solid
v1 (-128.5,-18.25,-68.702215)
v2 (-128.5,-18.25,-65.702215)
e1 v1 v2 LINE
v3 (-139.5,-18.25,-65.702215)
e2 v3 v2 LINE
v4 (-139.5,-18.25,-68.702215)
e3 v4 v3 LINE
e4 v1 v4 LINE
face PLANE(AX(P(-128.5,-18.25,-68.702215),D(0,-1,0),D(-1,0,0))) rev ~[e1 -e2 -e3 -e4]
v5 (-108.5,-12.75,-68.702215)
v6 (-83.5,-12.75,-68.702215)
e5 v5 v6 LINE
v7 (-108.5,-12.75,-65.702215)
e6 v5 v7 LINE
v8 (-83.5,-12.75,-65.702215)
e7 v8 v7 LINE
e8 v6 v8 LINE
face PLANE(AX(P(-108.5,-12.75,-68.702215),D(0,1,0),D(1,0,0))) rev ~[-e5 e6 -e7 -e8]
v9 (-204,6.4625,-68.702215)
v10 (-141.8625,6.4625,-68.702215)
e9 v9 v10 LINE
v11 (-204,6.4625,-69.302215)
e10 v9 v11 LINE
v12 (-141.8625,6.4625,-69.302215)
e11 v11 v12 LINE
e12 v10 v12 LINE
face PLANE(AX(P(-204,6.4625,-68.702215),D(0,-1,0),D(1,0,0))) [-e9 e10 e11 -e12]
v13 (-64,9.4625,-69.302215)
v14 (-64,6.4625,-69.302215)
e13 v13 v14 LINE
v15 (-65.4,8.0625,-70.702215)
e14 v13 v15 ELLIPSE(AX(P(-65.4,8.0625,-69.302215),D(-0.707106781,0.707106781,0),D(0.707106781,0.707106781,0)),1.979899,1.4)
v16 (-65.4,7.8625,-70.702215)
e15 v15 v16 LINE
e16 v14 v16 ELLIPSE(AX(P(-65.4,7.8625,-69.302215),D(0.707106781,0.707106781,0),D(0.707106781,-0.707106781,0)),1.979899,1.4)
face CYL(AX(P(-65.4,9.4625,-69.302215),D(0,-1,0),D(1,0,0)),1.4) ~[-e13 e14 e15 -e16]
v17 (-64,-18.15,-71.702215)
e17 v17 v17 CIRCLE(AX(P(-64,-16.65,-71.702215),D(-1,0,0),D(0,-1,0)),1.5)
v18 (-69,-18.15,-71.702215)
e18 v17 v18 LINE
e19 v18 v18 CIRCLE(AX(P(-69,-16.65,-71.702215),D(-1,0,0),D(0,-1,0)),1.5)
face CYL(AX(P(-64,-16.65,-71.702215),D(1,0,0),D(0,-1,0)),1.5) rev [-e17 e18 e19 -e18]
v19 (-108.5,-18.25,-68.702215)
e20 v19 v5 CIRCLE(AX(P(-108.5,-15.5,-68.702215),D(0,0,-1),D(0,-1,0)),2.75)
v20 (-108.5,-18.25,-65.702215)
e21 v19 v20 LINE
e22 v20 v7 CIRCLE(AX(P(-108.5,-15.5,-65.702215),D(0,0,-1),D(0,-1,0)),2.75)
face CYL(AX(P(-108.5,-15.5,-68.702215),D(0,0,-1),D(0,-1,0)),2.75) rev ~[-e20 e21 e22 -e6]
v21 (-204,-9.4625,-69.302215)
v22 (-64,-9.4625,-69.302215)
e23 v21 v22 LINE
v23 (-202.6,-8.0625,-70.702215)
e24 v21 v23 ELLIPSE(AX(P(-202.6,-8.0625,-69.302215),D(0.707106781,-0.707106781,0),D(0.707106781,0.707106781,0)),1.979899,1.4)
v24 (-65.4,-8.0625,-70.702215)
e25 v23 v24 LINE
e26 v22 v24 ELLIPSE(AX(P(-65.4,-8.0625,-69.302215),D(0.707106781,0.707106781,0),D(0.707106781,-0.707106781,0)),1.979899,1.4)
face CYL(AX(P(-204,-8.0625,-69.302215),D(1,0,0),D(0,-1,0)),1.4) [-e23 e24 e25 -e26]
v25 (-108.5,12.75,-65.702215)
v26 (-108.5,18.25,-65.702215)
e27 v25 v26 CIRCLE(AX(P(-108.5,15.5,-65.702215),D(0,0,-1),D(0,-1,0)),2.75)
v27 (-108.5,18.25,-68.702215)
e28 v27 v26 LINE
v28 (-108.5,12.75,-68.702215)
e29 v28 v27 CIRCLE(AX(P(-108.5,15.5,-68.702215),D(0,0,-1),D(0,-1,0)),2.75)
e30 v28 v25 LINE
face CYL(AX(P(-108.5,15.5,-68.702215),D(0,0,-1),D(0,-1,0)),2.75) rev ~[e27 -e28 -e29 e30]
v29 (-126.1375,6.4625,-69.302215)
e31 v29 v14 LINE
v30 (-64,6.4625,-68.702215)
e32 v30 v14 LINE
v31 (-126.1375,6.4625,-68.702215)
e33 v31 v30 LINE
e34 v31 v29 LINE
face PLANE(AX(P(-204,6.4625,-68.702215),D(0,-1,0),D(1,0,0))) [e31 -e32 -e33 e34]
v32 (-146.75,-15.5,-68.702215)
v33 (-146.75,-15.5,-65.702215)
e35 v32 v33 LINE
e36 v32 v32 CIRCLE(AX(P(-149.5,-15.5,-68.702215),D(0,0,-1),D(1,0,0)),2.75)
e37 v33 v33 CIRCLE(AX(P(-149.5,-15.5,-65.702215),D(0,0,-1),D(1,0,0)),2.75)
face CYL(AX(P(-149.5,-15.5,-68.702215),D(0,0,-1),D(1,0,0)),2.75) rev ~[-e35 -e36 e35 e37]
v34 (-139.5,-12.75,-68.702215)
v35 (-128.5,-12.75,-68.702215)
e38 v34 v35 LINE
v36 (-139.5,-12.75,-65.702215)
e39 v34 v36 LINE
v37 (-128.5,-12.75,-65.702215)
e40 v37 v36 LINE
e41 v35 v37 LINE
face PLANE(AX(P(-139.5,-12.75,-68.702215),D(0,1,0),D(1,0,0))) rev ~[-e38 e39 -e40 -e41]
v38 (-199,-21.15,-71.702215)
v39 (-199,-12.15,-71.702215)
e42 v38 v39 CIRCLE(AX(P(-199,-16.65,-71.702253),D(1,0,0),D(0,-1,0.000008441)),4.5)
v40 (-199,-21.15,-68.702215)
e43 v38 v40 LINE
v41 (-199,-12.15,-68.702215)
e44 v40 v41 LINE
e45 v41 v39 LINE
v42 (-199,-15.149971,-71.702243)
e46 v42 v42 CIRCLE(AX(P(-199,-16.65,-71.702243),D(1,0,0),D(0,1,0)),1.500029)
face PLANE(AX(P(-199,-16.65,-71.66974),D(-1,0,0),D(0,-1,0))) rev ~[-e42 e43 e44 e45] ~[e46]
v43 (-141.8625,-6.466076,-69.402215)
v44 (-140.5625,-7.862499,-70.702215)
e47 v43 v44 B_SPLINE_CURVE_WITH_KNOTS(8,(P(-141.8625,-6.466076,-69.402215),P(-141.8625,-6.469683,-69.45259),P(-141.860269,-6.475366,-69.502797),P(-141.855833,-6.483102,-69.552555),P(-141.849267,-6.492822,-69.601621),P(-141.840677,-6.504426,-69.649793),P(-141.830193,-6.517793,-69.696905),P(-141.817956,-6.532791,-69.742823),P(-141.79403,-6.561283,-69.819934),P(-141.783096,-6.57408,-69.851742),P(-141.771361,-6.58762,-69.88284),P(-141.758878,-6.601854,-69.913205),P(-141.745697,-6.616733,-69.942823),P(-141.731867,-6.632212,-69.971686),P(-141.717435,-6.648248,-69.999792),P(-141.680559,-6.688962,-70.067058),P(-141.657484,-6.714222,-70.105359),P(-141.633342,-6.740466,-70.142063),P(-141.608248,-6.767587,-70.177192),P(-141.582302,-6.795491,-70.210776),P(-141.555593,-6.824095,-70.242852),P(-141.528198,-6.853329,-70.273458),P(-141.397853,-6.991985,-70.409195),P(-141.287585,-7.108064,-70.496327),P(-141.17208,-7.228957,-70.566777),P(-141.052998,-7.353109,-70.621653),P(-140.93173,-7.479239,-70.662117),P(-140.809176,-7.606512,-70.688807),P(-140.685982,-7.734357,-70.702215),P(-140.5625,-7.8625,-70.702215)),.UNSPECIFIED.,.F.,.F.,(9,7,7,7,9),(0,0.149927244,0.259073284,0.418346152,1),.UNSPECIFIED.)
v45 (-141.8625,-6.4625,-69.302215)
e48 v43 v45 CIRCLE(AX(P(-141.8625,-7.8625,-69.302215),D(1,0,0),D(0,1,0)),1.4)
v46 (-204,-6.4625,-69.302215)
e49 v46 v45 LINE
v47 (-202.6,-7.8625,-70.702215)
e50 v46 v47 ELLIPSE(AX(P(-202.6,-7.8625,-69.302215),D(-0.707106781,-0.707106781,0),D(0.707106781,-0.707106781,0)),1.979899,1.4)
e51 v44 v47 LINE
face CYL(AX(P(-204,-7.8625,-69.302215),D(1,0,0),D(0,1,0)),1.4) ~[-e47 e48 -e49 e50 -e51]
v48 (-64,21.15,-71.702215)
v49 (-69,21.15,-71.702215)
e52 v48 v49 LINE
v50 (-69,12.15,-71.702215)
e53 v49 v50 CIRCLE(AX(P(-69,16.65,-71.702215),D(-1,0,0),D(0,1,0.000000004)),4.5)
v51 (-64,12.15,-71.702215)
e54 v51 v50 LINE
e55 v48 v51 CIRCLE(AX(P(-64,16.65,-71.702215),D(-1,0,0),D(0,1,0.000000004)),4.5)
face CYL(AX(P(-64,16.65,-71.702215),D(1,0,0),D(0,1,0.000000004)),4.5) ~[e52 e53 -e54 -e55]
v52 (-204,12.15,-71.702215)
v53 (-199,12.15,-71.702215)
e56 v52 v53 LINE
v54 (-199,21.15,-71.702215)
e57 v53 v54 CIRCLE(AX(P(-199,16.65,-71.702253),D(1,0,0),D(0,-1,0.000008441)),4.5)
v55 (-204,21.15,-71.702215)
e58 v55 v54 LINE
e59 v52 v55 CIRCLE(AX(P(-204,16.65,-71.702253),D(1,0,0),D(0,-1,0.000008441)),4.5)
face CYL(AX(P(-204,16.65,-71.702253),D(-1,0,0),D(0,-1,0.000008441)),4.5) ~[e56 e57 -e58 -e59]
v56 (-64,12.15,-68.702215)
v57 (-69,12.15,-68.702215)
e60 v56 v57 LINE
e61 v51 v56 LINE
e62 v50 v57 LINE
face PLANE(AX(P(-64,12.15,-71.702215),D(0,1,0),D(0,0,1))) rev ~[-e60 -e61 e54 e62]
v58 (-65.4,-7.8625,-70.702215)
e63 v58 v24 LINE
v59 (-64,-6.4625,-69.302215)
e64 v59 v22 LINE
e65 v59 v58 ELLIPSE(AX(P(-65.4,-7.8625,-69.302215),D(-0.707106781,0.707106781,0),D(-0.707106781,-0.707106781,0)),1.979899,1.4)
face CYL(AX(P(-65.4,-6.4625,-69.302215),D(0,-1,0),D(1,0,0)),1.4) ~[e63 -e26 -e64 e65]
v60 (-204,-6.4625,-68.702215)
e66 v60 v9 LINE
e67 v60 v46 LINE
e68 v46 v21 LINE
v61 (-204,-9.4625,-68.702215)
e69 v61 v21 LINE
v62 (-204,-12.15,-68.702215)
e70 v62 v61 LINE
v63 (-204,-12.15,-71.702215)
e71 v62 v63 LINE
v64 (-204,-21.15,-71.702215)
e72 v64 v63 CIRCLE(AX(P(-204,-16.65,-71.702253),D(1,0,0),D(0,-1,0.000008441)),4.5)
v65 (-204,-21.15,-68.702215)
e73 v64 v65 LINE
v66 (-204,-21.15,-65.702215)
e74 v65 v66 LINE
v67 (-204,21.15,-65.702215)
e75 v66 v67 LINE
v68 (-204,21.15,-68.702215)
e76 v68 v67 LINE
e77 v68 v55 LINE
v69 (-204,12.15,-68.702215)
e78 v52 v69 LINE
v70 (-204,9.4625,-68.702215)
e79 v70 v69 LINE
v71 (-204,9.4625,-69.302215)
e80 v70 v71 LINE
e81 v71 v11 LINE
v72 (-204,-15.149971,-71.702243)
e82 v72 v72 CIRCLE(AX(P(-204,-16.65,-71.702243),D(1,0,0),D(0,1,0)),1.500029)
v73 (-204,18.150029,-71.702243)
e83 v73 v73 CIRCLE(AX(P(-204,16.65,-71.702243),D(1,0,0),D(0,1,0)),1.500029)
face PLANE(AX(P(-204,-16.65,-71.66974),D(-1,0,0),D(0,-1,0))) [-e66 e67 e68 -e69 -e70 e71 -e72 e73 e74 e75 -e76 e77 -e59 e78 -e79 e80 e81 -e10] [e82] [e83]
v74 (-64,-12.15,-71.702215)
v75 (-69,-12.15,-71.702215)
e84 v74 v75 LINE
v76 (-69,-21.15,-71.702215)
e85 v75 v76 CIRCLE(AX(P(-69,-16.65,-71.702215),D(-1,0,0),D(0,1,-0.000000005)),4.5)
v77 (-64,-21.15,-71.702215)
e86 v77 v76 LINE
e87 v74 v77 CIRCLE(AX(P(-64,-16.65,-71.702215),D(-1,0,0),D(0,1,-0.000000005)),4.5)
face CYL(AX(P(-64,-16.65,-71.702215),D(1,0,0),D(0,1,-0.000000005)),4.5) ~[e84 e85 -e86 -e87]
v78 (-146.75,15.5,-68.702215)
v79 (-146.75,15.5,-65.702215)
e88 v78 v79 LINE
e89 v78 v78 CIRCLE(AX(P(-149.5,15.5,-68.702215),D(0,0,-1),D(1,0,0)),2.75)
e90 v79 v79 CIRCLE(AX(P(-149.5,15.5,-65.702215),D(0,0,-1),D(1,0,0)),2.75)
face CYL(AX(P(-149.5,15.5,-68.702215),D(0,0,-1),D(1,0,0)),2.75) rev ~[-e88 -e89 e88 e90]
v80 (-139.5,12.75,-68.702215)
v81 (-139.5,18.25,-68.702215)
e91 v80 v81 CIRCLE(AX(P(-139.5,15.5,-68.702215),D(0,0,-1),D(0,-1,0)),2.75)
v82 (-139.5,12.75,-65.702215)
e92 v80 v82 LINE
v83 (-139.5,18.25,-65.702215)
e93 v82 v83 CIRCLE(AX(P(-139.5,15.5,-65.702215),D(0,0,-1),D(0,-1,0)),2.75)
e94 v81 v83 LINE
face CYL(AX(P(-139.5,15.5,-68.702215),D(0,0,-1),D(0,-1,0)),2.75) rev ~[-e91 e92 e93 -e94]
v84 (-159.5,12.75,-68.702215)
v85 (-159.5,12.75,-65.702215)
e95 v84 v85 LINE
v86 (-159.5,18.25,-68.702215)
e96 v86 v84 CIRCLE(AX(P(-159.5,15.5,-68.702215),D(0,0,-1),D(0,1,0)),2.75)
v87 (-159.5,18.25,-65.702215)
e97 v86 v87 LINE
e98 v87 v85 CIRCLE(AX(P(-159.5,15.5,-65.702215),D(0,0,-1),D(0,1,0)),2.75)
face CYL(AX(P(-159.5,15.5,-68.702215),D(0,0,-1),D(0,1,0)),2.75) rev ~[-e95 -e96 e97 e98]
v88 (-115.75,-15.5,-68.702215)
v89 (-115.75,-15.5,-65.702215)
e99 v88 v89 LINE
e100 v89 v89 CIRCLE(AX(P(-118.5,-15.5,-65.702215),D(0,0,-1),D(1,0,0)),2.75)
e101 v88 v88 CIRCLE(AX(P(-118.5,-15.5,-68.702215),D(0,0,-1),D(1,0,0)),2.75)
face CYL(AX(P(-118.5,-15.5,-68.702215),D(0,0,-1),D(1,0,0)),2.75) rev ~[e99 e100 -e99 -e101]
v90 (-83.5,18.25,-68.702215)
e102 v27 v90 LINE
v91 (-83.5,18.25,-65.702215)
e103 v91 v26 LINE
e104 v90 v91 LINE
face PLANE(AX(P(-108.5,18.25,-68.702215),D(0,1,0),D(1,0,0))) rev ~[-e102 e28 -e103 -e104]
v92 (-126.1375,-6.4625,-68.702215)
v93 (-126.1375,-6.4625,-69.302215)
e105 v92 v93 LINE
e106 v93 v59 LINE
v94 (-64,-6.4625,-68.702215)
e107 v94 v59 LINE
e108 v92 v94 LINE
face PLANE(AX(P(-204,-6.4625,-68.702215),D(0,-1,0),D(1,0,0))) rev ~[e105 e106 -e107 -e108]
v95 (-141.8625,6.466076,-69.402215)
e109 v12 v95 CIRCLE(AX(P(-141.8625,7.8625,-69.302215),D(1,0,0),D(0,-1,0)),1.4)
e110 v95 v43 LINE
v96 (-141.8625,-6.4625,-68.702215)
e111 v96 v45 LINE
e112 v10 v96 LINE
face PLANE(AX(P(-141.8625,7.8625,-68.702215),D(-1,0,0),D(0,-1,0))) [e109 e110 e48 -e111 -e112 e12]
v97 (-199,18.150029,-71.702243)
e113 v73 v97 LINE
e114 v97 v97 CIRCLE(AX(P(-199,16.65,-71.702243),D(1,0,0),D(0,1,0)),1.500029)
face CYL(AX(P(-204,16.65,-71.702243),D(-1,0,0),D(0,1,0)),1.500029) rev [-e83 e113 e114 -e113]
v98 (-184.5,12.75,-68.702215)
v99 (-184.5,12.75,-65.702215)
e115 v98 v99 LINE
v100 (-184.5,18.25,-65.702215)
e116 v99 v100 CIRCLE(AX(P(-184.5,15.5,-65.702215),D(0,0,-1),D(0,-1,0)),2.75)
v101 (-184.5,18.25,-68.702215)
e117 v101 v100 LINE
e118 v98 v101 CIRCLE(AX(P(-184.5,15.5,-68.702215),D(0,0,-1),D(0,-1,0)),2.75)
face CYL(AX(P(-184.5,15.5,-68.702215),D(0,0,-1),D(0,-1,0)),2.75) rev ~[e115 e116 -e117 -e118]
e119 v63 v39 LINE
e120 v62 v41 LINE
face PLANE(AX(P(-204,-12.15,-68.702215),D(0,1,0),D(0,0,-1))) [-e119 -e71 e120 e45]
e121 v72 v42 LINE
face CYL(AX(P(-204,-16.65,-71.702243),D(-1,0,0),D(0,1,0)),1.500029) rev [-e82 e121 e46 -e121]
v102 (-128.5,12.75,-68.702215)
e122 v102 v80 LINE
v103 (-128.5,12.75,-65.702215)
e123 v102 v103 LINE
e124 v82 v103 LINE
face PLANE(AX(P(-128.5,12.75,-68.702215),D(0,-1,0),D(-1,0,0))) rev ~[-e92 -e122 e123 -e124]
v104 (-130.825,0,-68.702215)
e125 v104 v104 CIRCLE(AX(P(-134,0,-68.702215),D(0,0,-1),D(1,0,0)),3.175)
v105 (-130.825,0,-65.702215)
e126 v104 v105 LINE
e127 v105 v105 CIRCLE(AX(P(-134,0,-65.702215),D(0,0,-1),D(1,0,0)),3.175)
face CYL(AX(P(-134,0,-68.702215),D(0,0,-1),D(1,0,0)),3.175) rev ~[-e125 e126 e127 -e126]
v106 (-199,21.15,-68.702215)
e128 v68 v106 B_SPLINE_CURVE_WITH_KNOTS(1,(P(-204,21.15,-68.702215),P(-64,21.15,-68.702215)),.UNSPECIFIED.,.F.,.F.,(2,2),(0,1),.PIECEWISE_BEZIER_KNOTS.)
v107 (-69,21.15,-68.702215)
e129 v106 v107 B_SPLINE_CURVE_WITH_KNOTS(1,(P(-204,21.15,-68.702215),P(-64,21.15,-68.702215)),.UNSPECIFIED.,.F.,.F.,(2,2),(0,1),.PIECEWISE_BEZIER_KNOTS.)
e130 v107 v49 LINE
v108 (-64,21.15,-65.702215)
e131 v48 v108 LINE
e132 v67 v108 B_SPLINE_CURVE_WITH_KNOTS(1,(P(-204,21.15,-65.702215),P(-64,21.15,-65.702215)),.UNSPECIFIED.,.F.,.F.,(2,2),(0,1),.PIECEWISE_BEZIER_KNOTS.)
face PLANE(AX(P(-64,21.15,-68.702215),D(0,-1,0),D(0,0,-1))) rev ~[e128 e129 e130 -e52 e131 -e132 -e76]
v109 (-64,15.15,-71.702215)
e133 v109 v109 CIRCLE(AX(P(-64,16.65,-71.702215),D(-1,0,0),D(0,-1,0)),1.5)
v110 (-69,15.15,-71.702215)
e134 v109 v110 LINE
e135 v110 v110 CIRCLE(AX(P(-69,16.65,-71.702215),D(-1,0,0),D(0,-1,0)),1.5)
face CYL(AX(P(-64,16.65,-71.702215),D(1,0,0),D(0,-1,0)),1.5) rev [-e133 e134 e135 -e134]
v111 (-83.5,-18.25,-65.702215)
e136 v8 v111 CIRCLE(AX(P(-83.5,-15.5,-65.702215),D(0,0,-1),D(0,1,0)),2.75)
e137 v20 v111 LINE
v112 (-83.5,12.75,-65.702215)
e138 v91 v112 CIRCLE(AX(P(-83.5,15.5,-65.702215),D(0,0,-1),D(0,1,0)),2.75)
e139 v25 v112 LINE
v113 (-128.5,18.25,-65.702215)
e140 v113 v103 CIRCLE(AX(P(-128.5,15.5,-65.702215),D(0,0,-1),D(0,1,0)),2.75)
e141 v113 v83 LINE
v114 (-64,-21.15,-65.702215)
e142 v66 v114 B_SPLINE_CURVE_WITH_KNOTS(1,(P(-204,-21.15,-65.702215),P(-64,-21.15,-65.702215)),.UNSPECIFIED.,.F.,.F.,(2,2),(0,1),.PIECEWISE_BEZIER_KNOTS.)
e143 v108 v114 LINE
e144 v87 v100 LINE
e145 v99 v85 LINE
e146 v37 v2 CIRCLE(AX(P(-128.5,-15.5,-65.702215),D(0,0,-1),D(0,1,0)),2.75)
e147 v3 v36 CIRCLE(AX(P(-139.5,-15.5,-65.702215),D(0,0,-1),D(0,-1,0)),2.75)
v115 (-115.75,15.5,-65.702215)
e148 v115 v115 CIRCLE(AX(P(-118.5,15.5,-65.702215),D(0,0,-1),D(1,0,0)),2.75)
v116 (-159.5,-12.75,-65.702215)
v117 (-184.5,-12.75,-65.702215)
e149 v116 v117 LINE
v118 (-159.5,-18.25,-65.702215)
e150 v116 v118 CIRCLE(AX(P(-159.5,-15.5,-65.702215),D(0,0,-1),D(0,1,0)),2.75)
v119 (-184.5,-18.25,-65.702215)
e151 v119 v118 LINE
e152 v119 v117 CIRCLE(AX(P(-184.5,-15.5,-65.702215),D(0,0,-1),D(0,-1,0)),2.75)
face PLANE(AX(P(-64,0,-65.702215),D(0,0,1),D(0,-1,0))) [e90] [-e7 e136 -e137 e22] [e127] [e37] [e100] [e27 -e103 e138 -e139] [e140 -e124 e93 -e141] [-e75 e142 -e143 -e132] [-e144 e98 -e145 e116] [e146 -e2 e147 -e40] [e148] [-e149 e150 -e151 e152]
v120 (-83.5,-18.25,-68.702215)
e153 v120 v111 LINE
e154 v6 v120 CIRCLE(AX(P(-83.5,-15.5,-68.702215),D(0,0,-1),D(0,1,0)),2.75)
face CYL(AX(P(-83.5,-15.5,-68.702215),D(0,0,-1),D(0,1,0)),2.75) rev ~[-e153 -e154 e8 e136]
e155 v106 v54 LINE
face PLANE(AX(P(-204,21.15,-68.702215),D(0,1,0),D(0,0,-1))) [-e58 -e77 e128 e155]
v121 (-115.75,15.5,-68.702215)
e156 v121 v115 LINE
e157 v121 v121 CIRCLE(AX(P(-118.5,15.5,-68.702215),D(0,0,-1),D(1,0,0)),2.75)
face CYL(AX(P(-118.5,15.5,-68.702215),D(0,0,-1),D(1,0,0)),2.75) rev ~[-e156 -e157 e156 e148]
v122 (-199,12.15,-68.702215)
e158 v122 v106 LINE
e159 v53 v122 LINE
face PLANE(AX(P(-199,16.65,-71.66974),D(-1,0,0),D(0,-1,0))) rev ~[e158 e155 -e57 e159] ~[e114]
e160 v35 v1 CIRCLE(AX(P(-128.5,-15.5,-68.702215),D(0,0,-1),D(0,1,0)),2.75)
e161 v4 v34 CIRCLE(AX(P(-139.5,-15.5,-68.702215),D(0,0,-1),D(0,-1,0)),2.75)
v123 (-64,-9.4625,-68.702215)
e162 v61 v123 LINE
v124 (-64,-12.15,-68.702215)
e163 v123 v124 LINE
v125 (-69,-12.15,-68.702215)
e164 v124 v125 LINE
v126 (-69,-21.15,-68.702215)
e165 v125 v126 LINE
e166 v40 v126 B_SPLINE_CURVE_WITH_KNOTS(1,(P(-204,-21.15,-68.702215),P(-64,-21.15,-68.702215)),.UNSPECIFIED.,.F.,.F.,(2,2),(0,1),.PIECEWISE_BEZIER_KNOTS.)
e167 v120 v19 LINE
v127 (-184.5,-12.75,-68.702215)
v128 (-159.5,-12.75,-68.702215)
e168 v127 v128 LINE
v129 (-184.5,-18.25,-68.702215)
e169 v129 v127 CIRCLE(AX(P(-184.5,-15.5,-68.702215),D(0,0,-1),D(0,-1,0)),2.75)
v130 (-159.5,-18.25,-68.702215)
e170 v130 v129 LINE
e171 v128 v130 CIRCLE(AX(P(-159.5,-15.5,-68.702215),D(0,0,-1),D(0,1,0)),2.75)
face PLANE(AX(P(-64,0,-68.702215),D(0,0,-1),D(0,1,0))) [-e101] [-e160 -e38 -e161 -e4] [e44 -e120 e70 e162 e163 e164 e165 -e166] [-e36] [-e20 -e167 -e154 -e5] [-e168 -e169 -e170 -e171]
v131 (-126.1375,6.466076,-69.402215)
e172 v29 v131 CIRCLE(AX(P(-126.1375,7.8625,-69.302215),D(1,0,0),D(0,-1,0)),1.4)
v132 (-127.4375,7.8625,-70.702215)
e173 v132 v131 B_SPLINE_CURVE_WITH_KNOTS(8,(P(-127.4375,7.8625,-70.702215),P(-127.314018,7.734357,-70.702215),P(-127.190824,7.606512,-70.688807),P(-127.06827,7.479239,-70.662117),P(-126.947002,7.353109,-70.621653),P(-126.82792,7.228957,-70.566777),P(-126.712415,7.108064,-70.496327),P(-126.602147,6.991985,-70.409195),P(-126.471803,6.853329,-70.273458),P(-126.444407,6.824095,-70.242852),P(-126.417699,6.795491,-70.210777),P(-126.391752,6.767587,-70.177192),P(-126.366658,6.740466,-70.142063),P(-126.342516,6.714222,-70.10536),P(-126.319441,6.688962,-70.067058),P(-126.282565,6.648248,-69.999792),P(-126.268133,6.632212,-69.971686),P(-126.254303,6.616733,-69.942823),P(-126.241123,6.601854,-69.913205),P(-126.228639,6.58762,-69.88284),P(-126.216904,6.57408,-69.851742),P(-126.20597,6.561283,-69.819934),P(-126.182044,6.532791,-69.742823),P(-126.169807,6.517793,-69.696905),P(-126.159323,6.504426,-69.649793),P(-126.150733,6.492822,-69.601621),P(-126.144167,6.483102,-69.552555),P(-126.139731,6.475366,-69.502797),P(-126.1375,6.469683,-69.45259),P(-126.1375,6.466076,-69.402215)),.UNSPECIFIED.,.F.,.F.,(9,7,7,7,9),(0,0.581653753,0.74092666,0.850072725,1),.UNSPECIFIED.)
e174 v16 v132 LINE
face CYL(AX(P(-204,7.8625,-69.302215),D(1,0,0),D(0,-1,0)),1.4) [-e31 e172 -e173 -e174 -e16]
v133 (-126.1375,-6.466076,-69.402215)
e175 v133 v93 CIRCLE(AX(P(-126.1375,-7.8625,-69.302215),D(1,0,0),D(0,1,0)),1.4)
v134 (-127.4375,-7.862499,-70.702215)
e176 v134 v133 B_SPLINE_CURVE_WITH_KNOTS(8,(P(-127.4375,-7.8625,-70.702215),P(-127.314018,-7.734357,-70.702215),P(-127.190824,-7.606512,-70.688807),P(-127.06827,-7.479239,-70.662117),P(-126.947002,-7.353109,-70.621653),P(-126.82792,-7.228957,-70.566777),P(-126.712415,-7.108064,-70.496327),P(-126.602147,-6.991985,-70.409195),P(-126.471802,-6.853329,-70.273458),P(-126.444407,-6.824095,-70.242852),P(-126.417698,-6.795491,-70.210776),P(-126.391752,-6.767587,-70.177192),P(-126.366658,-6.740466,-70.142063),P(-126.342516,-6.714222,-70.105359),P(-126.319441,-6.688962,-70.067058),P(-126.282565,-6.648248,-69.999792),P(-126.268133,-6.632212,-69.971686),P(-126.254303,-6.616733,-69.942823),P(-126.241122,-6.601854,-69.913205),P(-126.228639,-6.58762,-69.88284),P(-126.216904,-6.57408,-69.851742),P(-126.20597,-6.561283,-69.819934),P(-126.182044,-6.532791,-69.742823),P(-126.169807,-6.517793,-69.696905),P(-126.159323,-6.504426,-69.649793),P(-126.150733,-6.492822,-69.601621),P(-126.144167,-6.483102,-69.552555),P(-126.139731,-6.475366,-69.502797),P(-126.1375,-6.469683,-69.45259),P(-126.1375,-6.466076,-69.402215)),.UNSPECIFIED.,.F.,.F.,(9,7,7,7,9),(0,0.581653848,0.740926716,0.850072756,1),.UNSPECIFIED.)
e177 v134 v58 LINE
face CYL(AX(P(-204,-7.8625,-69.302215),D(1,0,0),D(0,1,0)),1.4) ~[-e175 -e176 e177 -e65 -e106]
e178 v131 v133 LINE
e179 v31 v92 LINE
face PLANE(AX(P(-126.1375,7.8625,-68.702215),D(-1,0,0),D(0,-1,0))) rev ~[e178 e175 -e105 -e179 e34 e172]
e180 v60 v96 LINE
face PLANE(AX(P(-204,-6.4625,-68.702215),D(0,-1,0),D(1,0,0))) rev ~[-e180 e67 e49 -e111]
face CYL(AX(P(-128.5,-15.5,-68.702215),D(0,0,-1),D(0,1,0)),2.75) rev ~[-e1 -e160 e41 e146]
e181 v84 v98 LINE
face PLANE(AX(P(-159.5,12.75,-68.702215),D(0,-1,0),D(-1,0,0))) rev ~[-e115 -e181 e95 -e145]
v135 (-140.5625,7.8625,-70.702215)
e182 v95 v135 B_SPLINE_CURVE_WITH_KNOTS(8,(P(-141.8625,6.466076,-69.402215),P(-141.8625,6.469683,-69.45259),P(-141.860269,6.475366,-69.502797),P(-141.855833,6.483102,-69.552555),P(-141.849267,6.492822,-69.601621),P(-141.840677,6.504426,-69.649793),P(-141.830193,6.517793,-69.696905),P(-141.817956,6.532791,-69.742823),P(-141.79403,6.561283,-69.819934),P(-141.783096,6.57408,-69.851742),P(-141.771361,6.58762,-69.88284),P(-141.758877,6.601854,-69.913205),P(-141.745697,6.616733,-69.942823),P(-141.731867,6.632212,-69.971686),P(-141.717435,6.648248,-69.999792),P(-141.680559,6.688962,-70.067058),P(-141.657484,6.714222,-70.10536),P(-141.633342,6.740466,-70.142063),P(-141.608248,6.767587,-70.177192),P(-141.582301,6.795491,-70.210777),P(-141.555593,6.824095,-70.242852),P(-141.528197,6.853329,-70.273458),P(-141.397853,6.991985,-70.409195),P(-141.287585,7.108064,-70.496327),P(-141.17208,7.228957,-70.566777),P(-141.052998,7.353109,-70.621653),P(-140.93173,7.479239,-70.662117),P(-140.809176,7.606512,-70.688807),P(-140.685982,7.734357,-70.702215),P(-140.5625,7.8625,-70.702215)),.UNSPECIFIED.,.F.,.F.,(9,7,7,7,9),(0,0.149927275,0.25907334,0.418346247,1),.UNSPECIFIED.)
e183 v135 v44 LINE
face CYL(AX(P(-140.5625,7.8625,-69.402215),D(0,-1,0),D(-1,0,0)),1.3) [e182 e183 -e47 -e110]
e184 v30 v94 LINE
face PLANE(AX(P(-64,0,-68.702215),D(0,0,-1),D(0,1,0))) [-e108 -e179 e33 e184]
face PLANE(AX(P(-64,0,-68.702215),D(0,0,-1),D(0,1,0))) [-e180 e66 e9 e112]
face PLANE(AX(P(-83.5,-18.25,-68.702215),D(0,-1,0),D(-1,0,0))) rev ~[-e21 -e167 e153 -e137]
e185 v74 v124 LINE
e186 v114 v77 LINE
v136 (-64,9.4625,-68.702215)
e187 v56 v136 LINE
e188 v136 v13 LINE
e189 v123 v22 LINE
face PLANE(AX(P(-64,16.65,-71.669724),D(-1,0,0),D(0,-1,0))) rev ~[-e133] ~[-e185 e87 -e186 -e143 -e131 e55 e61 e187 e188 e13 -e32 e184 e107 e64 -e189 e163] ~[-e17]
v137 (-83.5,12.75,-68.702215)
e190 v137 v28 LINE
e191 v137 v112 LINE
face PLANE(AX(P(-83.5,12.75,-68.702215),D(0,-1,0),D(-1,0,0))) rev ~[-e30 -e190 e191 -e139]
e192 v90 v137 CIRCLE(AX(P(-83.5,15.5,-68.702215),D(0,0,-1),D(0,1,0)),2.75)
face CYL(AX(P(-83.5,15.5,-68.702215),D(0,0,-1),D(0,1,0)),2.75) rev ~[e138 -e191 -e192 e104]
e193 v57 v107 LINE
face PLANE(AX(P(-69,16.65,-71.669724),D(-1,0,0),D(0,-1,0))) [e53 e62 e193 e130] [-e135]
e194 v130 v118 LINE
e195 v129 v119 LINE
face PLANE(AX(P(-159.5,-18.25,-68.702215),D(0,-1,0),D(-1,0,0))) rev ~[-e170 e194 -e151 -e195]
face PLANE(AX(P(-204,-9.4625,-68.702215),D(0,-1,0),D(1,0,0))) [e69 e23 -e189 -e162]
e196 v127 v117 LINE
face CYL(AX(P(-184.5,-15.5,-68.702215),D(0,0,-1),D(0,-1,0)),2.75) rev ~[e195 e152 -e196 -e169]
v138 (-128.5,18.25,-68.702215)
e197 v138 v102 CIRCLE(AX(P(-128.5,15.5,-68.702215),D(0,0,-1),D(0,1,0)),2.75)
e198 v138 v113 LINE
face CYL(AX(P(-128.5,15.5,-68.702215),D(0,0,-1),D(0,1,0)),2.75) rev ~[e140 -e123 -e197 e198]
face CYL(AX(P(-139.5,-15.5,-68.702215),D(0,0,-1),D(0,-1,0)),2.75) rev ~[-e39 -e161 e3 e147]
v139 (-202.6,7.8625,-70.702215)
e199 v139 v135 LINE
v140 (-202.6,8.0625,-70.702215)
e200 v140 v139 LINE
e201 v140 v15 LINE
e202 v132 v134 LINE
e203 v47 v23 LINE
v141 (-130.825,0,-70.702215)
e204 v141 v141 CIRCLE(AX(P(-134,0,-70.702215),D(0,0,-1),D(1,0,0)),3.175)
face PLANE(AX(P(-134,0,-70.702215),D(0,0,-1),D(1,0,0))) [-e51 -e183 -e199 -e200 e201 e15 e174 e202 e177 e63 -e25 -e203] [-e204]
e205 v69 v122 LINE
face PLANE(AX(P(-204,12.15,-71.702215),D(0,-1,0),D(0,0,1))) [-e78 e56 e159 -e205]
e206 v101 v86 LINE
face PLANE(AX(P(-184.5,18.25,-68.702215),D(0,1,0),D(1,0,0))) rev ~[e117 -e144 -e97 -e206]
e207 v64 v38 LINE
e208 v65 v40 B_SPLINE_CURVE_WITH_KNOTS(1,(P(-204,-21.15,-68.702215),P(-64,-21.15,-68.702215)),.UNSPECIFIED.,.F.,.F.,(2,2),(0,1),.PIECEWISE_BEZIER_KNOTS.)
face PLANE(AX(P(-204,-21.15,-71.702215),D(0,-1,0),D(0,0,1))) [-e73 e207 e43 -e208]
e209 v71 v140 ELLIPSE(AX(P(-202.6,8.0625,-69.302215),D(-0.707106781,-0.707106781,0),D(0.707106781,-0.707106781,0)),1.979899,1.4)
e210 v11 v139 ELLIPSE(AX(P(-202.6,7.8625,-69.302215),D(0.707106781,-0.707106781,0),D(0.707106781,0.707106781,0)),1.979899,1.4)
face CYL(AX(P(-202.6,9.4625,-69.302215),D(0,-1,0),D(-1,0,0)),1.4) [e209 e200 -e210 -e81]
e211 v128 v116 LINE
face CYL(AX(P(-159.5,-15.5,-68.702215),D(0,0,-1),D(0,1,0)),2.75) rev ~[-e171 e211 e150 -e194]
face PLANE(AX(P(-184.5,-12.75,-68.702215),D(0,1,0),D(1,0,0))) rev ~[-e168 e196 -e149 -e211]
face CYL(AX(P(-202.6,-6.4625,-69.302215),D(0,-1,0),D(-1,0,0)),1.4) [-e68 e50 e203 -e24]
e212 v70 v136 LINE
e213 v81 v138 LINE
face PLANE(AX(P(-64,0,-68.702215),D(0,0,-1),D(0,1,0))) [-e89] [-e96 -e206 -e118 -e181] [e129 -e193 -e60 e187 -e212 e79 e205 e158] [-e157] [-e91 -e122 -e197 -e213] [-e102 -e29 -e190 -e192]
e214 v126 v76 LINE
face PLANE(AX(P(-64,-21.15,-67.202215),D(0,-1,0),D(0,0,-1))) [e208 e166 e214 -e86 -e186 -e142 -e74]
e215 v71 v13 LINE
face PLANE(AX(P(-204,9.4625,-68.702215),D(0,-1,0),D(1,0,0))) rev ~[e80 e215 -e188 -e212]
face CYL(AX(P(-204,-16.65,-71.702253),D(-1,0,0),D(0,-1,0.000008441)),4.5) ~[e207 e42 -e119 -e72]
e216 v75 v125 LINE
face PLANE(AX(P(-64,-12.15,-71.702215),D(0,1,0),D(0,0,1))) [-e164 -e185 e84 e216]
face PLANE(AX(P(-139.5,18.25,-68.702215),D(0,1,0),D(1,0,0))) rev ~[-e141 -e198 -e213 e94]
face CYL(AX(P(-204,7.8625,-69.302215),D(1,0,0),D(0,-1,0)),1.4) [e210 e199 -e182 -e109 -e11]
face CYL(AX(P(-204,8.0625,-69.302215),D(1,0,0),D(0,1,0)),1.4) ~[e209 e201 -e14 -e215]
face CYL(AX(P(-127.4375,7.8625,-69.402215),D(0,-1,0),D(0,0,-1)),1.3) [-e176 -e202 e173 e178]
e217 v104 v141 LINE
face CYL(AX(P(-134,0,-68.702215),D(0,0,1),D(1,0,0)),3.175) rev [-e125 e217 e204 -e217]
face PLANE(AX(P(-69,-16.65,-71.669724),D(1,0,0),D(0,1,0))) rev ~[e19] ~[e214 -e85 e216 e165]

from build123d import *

# Parameters (mm, degrees)
SKETCH074_W     = 42.3
SKETCH074_H     = 3
SKETCH075_W     = 42.3
SKETCH075_H     = 3
SKETCH076_R     = 1.5
PAD030_DEPTH    = 5
SKETCH033_R     = 1.5000289281
SKETCH033_R_2   = 1.500028928
PAD031_DEPTH    = 5
SKETCH078_R     = 2.75
SKETCH078_R_2   = 3.175
POCKET020_DEPTH = 5
SKETCH084_W     = 140
SKETCH084_H     = 3.0000000001
SKETCH084_H_2   = 3
PAD034_DEPTH    = 2
FILLET005_R     = 1.4
SKETCH088_W     = 15.725
SKETCH088_H     = 15.725
SKETCH088_R     = 3.175
PAD036_DEPTH    = 2
FILLET006_R     = 1.3


with BuildPart() as part:
    # Sketch074 (on Face1 of Binder022) → AdditiveLoft005 section 0
    with BuildSketch(Plane.YZ.offset(-204)):
        with Locations((0, -67.2022145348)):
            Rectangle(SKETCH074_W, SKETCH074_H)
    # Sketch075 (on Face1 of Binder023) → AdditiveLoft005 section 1
    with BuildSketch(Plane(origin=(-64, 0, 0), x_dir=(0, -1, 0), z_dir=(-1, 0, 0))):
        with Locations((0, -67.2022145348)):
            Rectangle(SKETCH075_W, SKETCH075_H)
    loft()

    # Sketch076 (on Face1 of Binder023) → Pad030 (new body)
    with BuildSketch(Plane(origin=(-64, 0, 0), x_dir=(0, -1, 0), z_dir=(-1, 0, 0))):
        with BuildLine():
            Line((-12.15, -71.7022145347), (-12.15, -68.7022145348))
            Line((-12.15, -68.7022145348), (-21.15, -68.7022145348))
            Line((-21.15, -68.7022145348), (-21.15, -71.7022145347))
            ThreePointArc((-21.15, -71.7022145347), (-16.65, -76.2022145528), (-12.15, -71.7022145347))
        make_face()
        with Locations((-16.65, -71.7022145528)):
            Circle(SKETCH076_R, mode=Mode.SUBTRACT)
        with BuildLine():
            Line((12.15, -71.7022145347), (12.15, -68.7022145348))
            Line((12.15, -68.7022145348), (21.15, -68.7022145348))
            Line((21.15, -68.7022145348), (21.15, -71.7022145347))
            ThreePointArc((12.15, -71.7022145347), (16.65, -76.20221451), (21.15, -71.7022145347))
        make_face()
        with Locations((16.65, -71.70221451)):
            Circle(SKETCH076_R, mode=Mode.SUBTRACT)
    extrude(amount=PAD030_DEPTH)

    # Sketch033 (on Face1 of Binder022) → Pad031 (join)
    with BuildSketch(Plane.YZ.offset(-204)):
        with BuildLine():
            Line((-21.1499999998, -71.7022145347), (-21.15, -68.7022145348))
            Line((-21.15, -68.7022145348), (-12.15, -68.7022145348))
            Line((-12.15, -68.7022145348), (-12.1500000002, -71.7022145347))
            ThreePointArc((-21.1499999998, -71.7022145347), (-16.65, -76.2022525186), (-12.1500000002, -71.7022145347))
        make_face()
        with Locations((-16.65, -71.7022434628)):
            Circle(SKETCH033_R, mode=Mode.SUBTRACT)
        with BuildLine():
            Line((12.1500000002, -71.7022145347), (12.15, -68.7022145348))
            Line((12.15, -68.7022145348), (21.15, -68.7022145348))
            Line((21.15, -68.7022145348), (21.1499999998, -71.7022145347))
            ThreePointArc((12.1500000002, -71.7022145347), (16.65, -76.2022525185), (21.1499999998, -71.7022145347))
        make_face()
        with Locations((16.65, -71.7022434628)):
            Circle(SKETCH033_R_2, mode=Mode.SUBTRACT)
    extrude(amount=PAD031_DEPTH)

    # Sketch078 (on Face5 of Pad031) → Pocket020 (cut)
    with BuildSketch(Plane(origin=(0, 0, -68.7022145348), x_dir=(1, 0, 0), z_dir=(0, 0, -1))):
        with Locations((-149.5, 15.5)):
            Circle(SKETCH078_R)
        with Locations((-118.5, 15.5)):
            Circle(SKETCH078_R)
        with Locations((-118.5, -15.5)):
            Circle(SKETCH078_R)
        with Locations((-149.5, -15.5)):
            Circle(SKETCH078_R)
        with Locations((-134, 0)):
            Circle(SKETCH078_R_2)
        with BuildLine():
            ThreePointArc((-159.5, 12.75), (-156.75, 15.5), (-159.5, 18.25))
            Line((-159.5, 18.25), (-184.5, 18.25))
            ThreePointArc((-184.5, 18.25), (-187.25, 15.5), (-184.5, 12.75))
            Line((-184.5, 12.75), (-159.5, 12.75))
        make_face()
        with BuildLine():
            ThreePointArc((-159.5, -18.25), (-156.75, -15.5), (-159.5, -12.75))
            Line((-159.5, -12.75), (-184.5, -12.75))
            ThreePointArc((-184.5, -12.75), (-187.25, -15.5), (-184.5, -18.25))
            Line((-184.5, -18.25), (-159.5, -18.25))
        make_face()
        with BuildLine():
            ThreePointArc((-108.5, -12.75), (-111.25, -15.5), (-108.5, -18.25))
            Line((-108.5, -18.25), (-83.5, -18.25))
            ThreePointArc((-83.5, -18.25), (-80.75, -15.5), (-83.5, -12.75))
            Line((-83.5, -12.75), (-108.5, -12.75))
        make_face()
        with BuildLine():
            ThreePointArc((-108.5, 18.25), (-111.25, 15.5), (-108.5, 12.75))
            Line((-108.5, 12.75), (-83.5, 12.75))
            ThreePointArc((-83.5, 12.75), (-80.75, 15.5), (-83.5, 18.25))
            Line((-83.5, 18.25), (-108.5, 18.25))
        make_face()
        with BuildLine():
            ThreePointArc((-128.5, 12.75), (-125.75, 15.5), (-128.5, 18.25))
            Line((-128.5, 18.25), (-139.5, 18.25))
            ThreePointArc((-139.5, 18.25), (-142.25, 15.5), (-139.5, 12.75))
            Line((-139.5, 12.75), (-128.5, 12.75))
        make_face()
        with BuildLine():
            ThreePointArc((-139.5, -12.75), (-142.25, -15.5), (-139.5, -18.25))
            Line((-139.5, -18.25), (-128.5, -18.25))
            ThreePointArc((-128.5, -18.25), (-125.75, -15.5), (-128.5, -12.75))
            Line((-128.5, -12.75), (-139.5, -12.75))
        make_face()
    extrude(amount=-POCKET020_DEPTH, mode=Mode.SUBTRACT)

    # Sketch084 (on Face5 of Pocket020) → Pad034 (join)
    with BuildSketch(Plane(origin=(0, 0, -68.7022145348), x_dir=(1, 0, 0), z_dir=(0, 0, -1))):
        with Locations((-134, 7.9625)):
            Rectangle(SKETCH084_W, SKETCH084_H)
        with Locations((-134, -7.9625)):
            Rectangle(SKETCH084_W, SKETCH084_H_2)
    extrude(amount=PAD034_DEPTH)

    # Fillet005
    fillet005_edges = [part.edges().sort_by_distance(p)[0] for p in [
        (-134, -9.4625, -70.702215),
        (-64, -7.9625, -70.702215),
        (-134, -6.4625, -70.702215),
        (-204, -7.9625, -70.702215),
        (-134, 6.4625, -70.702215),
        (-204, 7.9625, -70.702215),
        (-134, 9.4625, -70.702215),
        (-64, 7.9625, -70.702215),
    ]]
    fillet(fillet005_edges, radius=FILLET005_R)

    # Sketch088 (on Face8 of Fillet005) → Pad036 (join)
    with BuildSketch(Plane(origin=(0, 0, -68.7022145348), x_dir=(1, 0, 0), z_dir=(0, 0, -1))):
        with Locations((-134, 0)):
            Rectangle(SKETCH088_W, SKETCH088_H)
        with Locations((-134, 0)):
            Circle(SKETCH088_R, mode=Mode.SUBTRACT)
    extrude(amount=PAD036_DEPTH)

    # Fillet006
    fillet006_edges = [part.edges().sort_by_distance(p)[0] for p in [
        (-126.1375, 0, -70.702215),
        (-141.8625, 0, -70.702215),
    ]]
    fillet(fillet006_edges, radius=FILLET006_R)


solid = part.part
